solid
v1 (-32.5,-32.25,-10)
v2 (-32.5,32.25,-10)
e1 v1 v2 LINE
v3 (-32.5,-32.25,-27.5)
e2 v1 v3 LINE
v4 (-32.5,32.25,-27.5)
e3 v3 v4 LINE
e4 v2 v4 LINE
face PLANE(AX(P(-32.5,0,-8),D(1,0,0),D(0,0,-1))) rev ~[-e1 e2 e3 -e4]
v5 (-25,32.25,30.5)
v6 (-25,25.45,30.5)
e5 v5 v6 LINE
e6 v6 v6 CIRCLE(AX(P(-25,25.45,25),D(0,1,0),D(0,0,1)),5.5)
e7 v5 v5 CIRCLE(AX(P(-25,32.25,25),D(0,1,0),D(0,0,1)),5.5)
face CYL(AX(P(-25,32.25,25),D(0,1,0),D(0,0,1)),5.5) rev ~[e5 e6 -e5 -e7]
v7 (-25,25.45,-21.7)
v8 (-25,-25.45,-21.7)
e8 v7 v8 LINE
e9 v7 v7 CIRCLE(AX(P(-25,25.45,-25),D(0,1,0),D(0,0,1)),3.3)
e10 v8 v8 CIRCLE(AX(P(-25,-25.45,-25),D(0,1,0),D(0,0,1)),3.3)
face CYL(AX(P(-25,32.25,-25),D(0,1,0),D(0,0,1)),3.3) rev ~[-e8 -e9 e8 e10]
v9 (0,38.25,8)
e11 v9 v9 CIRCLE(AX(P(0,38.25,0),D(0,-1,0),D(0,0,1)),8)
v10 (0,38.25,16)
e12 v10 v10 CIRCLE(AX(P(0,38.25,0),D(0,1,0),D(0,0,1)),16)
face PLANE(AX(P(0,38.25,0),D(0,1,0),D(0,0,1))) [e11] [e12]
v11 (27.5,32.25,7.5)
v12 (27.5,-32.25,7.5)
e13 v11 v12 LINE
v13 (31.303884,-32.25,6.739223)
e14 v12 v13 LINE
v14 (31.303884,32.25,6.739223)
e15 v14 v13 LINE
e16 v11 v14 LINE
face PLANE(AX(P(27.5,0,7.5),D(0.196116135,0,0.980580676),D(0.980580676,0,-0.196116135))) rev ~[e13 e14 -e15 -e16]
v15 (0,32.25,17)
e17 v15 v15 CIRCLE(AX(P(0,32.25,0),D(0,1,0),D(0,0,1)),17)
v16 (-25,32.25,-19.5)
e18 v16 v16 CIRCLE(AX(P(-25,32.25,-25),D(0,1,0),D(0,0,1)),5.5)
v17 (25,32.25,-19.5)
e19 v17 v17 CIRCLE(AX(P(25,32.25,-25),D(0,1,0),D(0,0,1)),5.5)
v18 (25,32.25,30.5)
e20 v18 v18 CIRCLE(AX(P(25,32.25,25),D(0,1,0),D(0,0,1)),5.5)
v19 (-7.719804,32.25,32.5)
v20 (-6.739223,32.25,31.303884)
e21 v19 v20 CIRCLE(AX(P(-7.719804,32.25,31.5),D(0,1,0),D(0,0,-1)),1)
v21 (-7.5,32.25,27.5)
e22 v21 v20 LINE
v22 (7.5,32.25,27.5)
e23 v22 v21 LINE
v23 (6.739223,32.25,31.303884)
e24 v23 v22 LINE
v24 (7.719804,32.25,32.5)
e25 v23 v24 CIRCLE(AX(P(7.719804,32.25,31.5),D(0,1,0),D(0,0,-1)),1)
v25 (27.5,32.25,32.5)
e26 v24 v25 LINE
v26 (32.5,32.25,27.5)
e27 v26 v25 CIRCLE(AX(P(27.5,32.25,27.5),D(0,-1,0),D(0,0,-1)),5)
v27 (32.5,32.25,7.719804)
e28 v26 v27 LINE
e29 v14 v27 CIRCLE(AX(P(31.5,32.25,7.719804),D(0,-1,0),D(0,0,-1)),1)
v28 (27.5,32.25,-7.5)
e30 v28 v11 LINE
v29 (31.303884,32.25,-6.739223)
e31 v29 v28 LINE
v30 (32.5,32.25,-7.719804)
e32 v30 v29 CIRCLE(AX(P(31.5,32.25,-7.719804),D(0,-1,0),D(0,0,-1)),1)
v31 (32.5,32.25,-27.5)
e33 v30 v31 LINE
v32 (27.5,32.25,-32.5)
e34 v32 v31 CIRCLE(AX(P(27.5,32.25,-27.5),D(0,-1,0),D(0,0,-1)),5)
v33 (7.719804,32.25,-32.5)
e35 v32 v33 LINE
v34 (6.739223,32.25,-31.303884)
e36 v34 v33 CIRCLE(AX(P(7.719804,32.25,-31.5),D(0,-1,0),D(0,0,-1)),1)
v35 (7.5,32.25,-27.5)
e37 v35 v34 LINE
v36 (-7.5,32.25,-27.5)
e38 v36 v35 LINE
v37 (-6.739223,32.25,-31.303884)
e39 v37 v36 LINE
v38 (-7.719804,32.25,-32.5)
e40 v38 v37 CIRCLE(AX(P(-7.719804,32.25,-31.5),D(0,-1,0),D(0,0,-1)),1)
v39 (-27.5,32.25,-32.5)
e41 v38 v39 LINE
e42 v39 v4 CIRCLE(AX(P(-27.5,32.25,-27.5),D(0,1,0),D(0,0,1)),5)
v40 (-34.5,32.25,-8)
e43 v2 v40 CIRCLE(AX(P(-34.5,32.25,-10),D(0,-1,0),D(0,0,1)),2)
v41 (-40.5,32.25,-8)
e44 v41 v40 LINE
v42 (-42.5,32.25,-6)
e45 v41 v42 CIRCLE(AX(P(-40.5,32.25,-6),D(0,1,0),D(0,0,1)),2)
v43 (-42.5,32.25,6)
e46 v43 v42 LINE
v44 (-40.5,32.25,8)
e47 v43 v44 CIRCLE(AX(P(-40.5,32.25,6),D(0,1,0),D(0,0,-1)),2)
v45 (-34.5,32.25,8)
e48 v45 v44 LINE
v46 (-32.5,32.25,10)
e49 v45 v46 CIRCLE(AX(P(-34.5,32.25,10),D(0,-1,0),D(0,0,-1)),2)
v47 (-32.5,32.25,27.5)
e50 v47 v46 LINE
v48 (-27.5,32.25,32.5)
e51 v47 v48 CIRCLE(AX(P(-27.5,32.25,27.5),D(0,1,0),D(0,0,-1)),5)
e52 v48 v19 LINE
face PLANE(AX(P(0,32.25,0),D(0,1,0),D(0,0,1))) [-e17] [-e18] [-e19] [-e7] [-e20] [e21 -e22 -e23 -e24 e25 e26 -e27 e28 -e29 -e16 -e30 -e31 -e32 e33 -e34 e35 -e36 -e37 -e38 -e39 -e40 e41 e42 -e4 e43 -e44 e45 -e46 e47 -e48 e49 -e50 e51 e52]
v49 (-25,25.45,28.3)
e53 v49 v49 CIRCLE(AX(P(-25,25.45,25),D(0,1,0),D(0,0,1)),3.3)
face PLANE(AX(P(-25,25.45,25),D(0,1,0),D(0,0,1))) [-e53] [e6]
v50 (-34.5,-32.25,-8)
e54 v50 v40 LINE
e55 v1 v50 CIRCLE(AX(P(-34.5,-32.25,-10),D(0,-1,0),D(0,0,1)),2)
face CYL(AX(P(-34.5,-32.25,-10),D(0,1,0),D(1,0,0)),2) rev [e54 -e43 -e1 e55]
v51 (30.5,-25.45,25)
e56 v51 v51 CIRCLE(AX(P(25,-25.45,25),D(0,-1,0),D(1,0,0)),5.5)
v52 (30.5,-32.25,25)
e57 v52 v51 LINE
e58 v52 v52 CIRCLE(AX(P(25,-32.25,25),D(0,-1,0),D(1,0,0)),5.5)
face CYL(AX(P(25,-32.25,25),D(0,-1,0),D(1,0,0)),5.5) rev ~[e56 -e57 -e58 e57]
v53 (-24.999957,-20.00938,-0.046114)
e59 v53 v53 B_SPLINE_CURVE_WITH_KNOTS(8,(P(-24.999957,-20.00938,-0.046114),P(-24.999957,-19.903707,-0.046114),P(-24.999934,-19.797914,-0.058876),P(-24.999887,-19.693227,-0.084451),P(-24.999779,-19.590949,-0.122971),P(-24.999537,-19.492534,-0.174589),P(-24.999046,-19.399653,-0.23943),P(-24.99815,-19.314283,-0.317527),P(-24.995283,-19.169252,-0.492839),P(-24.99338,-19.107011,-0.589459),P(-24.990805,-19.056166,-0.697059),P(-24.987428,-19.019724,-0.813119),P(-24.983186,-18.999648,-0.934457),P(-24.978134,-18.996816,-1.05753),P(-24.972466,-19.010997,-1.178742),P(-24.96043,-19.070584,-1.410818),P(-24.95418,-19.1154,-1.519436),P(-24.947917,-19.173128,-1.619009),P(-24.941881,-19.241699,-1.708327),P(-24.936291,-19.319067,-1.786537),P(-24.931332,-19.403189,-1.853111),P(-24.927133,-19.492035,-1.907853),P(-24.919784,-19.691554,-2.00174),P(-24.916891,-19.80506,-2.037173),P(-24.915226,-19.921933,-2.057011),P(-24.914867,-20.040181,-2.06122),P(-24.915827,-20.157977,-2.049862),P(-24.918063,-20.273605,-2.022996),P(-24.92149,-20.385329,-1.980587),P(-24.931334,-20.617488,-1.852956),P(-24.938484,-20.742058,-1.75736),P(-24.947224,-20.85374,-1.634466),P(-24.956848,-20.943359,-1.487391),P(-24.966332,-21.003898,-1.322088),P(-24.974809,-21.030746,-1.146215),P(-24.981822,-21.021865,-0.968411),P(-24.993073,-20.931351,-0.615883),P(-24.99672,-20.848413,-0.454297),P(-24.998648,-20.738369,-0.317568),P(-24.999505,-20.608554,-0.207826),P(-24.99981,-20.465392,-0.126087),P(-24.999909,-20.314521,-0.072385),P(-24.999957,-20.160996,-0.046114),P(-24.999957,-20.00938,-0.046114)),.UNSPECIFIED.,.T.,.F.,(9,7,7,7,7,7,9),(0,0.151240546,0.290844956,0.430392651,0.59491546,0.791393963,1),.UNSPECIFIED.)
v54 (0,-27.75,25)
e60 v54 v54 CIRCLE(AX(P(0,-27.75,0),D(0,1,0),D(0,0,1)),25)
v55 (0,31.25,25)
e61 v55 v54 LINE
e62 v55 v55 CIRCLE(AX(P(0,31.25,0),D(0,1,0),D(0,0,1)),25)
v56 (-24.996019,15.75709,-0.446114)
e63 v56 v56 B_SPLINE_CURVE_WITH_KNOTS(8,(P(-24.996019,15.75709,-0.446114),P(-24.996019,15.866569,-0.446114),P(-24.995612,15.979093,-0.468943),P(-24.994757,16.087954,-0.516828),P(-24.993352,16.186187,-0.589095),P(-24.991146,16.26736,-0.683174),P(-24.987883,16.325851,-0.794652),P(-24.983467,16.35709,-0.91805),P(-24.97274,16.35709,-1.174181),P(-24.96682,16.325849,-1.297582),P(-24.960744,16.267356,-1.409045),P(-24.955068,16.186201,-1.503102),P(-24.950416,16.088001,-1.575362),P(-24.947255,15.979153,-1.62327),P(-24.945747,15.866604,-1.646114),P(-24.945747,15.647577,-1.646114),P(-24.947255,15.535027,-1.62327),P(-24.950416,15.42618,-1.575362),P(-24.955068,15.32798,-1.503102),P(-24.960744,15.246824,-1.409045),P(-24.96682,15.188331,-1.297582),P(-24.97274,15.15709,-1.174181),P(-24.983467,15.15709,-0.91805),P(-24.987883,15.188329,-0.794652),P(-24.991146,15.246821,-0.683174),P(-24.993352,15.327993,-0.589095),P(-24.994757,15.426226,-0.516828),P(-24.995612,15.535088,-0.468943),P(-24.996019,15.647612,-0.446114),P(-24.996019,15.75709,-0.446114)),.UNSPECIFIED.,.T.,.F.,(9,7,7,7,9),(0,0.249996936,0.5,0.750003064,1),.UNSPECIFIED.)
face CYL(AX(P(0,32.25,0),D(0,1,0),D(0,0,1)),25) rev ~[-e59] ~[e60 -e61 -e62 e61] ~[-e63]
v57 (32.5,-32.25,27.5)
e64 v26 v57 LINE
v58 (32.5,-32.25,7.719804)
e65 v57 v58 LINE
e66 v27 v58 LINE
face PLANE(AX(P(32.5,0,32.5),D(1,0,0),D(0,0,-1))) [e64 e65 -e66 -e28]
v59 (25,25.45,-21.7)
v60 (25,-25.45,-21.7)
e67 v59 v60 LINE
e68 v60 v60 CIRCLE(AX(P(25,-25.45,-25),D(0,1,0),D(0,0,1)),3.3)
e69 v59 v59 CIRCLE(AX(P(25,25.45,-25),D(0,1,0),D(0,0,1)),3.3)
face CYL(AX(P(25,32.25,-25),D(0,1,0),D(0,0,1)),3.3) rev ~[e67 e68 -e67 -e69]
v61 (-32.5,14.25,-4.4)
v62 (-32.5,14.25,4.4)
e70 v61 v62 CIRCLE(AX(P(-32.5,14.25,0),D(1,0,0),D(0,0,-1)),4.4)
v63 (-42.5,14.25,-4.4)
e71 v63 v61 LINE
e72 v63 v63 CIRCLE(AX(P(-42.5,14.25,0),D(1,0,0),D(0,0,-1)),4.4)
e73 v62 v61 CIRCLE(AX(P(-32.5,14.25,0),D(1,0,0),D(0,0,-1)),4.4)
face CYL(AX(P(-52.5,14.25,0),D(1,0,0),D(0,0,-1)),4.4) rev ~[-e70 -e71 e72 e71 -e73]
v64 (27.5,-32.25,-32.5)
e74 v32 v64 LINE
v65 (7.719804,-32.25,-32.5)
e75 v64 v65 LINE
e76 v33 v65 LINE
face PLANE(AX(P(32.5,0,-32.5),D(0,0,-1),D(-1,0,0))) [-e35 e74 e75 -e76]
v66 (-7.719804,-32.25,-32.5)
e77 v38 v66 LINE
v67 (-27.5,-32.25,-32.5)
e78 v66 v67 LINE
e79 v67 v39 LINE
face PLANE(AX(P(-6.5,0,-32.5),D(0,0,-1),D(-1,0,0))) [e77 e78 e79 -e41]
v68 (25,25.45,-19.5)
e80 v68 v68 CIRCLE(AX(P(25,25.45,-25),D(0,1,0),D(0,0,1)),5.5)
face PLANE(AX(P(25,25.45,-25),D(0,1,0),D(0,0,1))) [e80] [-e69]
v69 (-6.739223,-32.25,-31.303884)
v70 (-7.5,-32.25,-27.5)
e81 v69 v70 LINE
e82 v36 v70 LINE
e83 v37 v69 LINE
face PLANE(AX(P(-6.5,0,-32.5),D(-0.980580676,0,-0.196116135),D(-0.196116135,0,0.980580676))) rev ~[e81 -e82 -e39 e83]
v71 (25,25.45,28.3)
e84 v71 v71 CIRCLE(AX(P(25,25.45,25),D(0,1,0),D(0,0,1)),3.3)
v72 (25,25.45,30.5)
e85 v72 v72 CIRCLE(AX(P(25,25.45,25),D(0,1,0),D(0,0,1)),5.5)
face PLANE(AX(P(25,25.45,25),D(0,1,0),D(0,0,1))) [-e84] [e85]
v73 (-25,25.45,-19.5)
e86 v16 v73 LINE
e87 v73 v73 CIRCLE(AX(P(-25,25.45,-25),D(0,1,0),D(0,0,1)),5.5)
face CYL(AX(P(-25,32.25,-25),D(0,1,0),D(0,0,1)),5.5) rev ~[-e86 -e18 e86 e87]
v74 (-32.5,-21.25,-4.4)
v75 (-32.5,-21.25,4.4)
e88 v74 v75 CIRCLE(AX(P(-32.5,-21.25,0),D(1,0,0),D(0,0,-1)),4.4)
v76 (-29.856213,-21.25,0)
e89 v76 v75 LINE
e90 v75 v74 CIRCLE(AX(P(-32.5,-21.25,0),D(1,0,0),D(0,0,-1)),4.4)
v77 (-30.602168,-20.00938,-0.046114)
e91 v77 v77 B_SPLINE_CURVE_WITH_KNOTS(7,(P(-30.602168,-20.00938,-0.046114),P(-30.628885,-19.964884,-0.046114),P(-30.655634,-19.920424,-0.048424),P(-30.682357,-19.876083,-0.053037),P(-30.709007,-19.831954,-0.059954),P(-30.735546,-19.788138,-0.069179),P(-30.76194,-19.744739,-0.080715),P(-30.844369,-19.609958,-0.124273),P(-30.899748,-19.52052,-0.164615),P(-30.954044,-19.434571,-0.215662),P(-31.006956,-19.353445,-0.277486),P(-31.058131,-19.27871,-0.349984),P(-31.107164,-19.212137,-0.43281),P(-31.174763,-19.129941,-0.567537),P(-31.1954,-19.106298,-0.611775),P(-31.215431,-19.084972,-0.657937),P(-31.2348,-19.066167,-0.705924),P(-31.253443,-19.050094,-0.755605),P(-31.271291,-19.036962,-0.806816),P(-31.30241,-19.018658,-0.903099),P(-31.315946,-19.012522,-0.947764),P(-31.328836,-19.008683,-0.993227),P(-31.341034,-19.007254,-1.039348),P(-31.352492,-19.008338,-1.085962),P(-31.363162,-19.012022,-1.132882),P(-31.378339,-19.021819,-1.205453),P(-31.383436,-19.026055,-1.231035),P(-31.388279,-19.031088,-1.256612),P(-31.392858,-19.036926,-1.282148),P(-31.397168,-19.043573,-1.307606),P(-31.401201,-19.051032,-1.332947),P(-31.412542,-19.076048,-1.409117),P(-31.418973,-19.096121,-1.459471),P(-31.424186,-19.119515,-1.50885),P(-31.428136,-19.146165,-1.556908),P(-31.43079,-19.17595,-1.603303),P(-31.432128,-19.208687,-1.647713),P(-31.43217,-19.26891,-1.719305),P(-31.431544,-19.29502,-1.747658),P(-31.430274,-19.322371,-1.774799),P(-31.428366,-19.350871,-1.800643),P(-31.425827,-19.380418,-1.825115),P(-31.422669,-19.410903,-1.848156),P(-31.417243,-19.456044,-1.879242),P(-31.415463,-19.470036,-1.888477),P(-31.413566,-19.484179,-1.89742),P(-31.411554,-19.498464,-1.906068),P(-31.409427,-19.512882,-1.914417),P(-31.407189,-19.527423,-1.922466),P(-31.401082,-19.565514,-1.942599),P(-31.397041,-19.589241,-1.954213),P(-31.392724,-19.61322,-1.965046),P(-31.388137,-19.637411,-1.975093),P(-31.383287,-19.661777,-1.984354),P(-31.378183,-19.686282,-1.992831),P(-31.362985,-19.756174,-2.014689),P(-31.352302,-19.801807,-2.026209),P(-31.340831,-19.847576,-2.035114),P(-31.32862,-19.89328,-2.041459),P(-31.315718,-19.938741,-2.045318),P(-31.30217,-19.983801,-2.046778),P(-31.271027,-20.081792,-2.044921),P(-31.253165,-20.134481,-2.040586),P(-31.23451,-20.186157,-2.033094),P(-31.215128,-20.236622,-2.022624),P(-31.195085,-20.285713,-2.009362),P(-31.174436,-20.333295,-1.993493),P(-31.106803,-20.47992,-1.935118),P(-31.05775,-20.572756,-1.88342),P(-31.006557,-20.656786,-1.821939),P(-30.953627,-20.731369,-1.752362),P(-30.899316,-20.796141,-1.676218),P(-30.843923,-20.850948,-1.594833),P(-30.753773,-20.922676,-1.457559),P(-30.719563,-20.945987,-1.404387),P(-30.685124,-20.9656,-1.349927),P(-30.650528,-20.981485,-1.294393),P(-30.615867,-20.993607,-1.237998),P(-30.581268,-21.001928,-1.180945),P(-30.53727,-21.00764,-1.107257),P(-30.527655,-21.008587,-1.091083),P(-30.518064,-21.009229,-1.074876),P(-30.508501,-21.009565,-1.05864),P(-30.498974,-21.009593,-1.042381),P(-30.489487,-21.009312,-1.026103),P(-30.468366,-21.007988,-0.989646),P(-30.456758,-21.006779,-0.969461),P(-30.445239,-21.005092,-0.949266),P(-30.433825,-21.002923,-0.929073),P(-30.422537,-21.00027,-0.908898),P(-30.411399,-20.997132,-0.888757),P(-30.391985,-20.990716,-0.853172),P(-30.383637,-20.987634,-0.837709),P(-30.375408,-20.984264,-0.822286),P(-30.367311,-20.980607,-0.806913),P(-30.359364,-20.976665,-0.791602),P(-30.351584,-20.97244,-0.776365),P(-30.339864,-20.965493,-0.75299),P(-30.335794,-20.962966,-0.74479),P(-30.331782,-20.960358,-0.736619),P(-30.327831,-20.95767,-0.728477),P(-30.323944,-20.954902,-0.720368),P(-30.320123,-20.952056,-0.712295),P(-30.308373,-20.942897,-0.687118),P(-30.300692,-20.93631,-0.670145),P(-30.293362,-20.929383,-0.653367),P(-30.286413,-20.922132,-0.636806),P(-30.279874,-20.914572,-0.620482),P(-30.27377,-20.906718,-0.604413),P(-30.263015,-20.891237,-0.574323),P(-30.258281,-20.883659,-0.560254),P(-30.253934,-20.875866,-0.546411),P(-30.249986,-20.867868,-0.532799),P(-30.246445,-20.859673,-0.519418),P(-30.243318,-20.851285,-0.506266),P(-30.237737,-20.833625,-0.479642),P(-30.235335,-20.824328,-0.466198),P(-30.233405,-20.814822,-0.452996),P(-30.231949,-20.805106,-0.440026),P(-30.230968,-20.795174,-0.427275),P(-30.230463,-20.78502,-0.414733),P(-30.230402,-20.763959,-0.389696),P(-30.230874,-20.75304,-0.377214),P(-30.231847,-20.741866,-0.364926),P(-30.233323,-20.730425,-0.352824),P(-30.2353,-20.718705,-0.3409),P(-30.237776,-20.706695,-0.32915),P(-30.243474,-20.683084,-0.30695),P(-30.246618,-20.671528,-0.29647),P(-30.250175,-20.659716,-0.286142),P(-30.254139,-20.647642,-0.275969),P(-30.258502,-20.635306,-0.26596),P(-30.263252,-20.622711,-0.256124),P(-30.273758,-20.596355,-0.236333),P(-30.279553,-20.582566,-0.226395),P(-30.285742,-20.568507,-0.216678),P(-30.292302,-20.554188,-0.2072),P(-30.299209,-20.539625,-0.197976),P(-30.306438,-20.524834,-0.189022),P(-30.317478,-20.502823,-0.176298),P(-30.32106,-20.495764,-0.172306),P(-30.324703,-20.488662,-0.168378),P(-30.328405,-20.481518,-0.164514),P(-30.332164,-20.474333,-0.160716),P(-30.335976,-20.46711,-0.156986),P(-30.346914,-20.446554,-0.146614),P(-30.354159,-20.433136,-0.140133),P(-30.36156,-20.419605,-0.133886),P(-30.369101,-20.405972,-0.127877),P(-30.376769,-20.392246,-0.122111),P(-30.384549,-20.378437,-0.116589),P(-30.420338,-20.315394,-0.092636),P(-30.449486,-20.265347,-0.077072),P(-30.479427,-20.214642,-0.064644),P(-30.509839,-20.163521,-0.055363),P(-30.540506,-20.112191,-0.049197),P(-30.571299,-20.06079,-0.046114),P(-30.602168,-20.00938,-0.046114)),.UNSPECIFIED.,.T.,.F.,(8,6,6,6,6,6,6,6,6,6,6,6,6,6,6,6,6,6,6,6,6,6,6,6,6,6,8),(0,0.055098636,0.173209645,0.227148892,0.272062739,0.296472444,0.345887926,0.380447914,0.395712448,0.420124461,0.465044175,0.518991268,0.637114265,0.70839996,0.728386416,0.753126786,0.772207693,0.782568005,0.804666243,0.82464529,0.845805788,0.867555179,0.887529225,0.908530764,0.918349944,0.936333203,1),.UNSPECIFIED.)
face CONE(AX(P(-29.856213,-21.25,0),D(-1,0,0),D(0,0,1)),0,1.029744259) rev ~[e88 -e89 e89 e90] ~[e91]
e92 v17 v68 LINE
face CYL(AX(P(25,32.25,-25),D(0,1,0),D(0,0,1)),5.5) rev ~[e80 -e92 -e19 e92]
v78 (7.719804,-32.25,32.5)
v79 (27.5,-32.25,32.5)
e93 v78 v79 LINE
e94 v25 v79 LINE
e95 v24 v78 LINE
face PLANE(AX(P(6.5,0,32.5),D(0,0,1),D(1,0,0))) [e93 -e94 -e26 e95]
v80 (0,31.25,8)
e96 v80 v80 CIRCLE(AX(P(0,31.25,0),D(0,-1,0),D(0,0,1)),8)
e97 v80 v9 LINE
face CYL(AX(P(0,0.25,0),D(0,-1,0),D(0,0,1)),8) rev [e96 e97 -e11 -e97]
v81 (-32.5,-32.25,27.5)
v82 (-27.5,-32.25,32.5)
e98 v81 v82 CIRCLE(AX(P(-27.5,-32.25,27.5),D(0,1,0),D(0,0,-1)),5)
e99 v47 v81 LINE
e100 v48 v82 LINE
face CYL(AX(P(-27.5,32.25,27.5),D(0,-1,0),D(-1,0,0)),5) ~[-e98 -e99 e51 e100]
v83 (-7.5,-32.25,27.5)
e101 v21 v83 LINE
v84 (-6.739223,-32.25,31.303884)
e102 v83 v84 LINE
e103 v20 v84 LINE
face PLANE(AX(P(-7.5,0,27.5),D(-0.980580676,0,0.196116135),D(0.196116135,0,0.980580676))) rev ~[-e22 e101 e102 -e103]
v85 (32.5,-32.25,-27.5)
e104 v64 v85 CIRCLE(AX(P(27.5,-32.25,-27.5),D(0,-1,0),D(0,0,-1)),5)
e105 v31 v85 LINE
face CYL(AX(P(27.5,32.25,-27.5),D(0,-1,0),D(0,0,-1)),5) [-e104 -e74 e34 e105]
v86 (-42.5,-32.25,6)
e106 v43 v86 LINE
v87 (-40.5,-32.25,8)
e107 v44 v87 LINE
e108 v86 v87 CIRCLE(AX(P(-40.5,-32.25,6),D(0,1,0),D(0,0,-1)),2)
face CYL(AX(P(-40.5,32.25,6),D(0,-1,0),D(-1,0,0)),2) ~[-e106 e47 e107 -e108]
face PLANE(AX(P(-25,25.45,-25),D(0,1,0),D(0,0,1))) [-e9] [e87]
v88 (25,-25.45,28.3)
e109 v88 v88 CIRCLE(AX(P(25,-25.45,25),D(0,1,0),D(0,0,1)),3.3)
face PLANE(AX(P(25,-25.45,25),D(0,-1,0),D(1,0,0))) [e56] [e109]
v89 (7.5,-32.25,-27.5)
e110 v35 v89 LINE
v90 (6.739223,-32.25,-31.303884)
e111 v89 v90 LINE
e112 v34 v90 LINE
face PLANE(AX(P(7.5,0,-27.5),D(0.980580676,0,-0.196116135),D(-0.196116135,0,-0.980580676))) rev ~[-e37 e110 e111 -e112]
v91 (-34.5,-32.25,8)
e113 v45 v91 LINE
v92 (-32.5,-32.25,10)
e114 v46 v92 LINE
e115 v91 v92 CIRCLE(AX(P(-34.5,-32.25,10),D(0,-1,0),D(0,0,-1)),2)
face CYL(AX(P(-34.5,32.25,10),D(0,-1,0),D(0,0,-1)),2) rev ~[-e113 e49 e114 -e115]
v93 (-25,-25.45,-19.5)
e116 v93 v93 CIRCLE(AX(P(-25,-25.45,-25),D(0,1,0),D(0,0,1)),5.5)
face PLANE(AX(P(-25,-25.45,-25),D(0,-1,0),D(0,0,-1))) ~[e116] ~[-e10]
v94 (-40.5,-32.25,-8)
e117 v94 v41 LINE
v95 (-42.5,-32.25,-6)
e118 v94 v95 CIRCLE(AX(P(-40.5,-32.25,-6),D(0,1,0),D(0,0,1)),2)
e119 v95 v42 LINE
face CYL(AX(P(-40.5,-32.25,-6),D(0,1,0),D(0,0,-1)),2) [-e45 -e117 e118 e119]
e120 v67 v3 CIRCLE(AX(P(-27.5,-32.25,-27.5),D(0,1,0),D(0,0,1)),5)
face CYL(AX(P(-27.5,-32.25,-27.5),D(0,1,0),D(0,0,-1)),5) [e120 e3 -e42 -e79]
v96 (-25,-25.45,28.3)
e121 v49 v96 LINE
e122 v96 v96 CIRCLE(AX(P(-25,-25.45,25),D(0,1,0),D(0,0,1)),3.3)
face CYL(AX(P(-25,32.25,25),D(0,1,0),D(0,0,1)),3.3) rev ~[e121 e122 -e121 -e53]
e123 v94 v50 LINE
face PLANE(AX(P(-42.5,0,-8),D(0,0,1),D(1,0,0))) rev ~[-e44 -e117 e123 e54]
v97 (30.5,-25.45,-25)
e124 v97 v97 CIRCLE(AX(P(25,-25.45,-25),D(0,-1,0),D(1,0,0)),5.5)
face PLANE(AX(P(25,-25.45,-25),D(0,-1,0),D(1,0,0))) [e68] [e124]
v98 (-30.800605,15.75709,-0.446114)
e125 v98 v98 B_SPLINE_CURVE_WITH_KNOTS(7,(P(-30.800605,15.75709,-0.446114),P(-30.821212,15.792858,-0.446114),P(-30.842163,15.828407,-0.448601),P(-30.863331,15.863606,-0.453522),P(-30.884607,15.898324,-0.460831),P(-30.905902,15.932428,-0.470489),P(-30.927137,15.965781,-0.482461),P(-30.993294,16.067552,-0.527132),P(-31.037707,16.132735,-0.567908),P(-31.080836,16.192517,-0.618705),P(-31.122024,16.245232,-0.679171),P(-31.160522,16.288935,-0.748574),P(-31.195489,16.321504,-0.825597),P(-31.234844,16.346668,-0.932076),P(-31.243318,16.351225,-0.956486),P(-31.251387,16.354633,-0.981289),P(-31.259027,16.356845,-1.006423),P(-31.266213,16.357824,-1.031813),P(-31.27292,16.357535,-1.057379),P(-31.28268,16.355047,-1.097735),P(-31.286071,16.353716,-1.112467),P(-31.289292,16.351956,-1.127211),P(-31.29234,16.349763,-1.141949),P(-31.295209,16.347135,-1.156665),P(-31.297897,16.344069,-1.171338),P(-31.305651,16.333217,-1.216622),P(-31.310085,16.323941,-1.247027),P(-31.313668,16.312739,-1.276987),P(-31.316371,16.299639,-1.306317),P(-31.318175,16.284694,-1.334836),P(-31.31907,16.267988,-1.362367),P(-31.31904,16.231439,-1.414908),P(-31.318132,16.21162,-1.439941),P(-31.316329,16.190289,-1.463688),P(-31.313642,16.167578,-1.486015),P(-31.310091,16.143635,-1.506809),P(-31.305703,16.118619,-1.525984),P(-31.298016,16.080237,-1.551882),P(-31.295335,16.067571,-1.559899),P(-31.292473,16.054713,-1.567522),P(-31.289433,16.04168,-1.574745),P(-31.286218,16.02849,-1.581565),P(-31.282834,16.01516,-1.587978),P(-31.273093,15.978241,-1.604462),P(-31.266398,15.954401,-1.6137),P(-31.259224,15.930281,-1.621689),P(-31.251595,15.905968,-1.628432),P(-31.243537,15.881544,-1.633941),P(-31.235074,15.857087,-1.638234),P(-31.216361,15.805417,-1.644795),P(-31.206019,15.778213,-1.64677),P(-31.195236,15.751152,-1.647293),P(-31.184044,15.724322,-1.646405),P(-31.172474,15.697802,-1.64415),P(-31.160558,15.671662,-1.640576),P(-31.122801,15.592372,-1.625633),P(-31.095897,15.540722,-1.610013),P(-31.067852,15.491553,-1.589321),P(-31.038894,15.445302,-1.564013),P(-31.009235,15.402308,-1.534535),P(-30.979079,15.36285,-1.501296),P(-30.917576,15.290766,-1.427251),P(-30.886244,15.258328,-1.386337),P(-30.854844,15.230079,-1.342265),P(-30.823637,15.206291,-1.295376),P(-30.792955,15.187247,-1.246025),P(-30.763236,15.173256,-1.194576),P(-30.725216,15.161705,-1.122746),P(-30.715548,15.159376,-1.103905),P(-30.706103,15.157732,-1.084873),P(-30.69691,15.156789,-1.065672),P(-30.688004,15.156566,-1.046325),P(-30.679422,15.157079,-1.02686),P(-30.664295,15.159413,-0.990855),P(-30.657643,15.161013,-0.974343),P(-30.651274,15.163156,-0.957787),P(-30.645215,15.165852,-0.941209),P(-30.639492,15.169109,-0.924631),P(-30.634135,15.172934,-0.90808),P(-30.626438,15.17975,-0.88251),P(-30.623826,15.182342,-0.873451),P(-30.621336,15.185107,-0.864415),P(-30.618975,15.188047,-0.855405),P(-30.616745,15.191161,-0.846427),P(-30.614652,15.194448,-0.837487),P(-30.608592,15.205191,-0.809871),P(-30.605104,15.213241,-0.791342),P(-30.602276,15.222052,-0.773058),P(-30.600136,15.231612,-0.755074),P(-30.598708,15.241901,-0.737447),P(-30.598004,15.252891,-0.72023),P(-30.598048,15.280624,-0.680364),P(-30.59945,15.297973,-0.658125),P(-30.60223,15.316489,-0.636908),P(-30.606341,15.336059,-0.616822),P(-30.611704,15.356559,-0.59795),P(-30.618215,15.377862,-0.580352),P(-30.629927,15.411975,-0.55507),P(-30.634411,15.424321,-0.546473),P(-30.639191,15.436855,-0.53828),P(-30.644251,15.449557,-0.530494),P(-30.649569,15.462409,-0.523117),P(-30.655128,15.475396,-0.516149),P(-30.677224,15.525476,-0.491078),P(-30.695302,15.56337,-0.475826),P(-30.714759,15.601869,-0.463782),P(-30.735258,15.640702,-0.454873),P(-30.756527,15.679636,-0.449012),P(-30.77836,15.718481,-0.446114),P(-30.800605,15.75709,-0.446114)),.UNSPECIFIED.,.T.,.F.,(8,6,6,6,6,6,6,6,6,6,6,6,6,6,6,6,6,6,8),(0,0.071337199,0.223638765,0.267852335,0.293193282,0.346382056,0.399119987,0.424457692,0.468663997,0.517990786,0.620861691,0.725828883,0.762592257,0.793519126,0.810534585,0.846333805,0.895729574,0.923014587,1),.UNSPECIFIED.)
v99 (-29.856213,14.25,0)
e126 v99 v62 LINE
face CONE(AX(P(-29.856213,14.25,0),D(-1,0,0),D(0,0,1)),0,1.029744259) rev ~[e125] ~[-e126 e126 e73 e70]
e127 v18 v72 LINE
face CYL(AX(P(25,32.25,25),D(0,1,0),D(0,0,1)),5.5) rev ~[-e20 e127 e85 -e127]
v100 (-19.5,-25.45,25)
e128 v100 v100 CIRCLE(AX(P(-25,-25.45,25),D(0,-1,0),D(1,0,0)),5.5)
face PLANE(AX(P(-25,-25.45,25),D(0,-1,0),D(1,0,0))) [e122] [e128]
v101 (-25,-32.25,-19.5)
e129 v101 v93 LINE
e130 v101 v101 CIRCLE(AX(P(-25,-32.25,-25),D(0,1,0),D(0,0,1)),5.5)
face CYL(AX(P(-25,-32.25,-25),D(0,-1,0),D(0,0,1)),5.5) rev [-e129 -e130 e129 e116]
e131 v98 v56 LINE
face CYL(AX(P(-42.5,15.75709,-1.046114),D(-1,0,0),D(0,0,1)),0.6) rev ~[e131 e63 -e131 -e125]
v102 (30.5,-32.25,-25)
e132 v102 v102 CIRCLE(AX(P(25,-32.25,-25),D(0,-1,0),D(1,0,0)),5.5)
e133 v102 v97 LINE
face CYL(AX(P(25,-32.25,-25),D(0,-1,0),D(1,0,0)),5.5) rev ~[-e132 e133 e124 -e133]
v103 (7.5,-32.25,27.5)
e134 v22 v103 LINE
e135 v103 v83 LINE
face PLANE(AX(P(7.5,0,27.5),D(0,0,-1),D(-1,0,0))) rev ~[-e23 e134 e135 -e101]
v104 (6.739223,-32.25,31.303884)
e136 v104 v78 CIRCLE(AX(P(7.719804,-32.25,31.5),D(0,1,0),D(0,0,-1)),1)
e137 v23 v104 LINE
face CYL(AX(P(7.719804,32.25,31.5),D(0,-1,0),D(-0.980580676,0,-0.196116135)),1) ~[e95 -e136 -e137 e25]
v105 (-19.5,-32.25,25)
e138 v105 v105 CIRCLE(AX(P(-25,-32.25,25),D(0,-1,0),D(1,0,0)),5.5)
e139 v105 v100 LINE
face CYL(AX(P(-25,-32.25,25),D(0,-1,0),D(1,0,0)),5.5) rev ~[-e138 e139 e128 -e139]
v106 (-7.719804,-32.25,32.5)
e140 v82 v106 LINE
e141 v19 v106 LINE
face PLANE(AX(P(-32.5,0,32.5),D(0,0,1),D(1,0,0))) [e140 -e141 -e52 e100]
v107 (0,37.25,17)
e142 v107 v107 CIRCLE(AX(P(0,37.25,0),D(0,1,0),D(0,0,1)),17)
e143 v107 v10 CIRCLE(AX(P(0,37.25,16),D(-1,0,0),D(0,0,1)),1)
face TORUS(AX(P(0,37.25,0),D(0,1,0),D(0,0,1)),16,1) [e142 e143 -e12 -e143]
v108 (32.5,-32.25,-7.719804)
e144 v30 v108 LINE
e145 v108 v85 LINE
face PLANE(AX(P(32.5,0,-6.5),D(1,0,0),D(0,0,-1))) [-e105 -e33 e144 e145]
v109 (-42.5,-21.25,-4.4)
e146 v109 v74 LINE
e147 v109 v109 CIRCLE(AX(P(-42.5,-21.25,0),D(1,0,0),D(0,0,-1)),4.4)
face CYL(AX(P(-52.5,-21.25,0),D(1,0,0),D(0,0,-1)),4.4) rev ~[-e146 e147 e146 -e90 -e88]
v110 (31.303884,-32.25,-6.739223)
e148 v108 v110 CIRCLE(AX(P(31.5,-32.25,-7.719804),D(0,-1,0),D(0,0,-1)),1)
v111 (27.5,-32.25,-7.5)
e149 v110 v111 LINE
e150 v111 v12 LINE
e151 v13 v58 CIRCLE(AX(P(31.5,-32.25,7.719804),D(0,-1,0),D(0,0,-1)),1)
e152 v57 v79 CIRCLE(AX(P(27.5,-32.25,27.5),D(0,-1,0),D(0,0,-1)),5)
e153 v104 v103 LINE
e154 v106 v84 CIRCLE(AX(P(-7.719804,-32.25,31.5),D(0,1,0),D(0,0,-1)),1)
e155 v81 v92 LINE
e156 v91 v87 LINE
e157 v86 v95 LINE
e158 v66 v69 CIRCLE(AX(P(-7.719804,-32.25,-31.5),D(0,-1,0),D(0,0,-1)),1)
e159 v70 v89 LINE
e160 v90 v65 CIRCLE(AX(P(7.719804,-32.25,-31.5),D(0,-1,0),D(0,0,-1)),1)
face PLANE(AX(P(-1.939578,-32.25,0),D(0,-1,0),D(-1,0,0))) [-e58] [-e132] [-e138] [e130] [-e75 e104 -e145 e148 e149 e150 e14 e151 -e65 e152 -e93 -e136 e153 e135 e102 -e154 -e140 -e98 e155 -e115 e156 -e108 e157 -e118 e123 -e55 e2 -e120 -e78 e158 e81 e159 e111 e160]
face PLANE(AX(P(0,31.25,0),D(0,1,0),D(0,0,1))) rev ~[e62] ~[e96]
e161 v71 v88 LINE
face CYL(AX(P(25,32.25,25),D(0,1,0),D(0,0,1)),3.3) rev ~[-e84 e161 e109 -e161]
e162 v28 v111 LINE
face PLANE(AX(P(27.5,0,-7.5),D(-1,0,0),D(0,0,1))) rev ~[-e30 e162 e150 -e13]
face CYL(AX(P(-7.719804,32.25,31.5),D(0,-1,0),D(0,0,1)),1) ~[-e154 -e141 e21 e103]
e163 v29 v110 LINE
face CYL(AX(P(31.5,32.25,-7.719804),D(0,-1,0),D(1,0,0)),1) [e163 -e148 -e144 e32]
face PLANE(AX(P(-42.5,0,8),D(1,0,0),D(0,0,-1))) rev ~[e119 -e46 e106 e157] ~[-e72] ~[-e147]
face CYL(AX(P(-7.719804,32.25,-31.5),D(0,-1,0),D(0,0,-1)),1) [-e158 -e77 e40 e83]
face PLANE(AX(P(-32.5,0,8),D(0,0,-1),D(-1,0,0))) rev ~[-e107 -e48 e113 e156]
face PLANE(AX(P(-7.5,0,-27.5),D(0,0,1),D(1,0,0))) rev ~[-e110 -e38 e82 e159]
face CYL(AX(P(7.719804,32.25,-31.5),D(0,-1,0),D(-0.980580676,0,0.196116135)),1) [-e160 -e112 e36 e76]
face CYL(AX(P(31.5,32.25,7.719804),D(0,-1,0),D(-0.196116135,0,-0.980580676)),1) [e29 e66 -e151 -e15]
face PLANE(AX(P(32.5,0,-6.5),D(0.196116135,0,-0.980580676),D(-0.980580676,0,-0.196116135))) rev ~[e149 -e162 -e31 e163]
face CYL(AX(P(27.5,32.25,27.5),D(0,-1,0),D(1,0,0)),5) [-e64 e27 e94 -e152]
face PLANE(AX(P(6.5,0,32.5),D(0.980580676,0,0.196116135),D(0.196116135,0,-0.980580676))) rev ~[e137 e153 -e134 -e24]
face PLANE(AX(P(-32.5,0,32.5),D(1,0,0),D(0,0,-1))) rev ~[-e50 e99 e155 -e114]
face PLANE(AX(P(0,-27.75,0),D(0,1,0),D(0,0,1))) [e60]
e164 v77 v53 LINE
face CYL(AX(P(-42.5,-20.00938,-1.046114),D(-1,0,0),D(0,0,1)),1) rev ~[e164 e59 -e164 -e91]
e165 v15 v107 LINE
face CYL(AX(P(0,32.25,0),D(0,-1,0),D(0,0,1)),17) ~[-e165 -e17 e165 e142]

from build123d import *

# Parameters (mm, degrees)
BOSS_EXTRUDE1_DEPTH         = 32.25
SKETCH2_R                   = 5.5
CUT_EXTRUDE1_DEPTH          = 6.8
LPATTERN1_COUNT             = 2
LPATTERN1_PITCH             = 50
LPATTERN1_COUNT_DIR2        = 2
LPATTERN1_PITCH_DIR2        = 50
MIRROR1_COPY_1_SKETCH_R     = 5.5
MIRROR1_COPY_1_DEPTH        = 6.8
MIRROR1_COPY_2_SKETCH_R     = 5.5
MIRROR1_COPY_2_DEPTH        = 6.8
MIRROR1_COPY_3_SKETCH_R     = 5.5
MIRROR1_COPY_3_DEPTH        = 6.8
SKETCH3_R                   = 3.3
CUT_EXTRUDE2_DEPTH          = 63.8
LPATTERN2_COUNT             = 2
LPATTERN2_PITCH             = 50
LPATTERN2_COUNT_DIR2        = 2
LPATTERN2_PITCH_DIR2        = 50
M10X1_25_TAPPED_HOLE1_D     = 8.8
M10X1_25_TAPPED_HOLE1_DEPTH = 10
M10X1_25_TAPPED_HOLE1_TIP   = 2.643786724
SKETCH6_R                   = 25
CUT_EXTRUDE4_DEPTH          = 60
SKETCH7_R                   = 0.6
SKETCH7_R_2                 = 1
CUT_EXTRUDE5_DEPTH          = 26
FILLET1_R                   = 5
FILLET2_R                   = 2
FILLET3_R                   = 1
SKETCH8_R                   = 17
BOSS_EXTRUDE2_DEPTH         = 6
SKETCH9_R                   = 25
BOSS_EXTRUDE3_DEPTH         = 1
FILLET5_R                   = 1
CUT_EXTRUDE6_DEPTH          = 87
CUT_EXTRUDE6_DEPTH_BACK     = 38
SKETCH10_R                  = 8


with BuildPart() as part:
    # Sketch1 → Boss-Extrude1 (new, symmetric)
    with BuildSketch(Plane(origin=(0, 0, 0), x_dir=(1, 0, 0), z_dir=(0, 1, 0))):
        Polygon((-32.5, 32.5), (-7.5, 32.5), (-6.5, 32.5), (-7.5, 27.5), (7.5, 27.5), (6.5, 32.5), (7.5, 32.5), (32.5, 32.5), (32.5, 7.5), (32.5, 6.5), (27.5, 7.5), (27.5, -7.5), (32.5, -6.5), (32.5, -7.5), (32.5, -32.5), (7.5, -32.5), (6.5, -32.5), (7.5, -27.5), (-7.5, -27.5), (-6.5, -32.5), (-7.5, -32.5), (-32.5, -32.5), (-32.5, -8), (-42.5, -8), (-42.5, 8), (-32.5, 8), align=None)
    extrude(amount=BOSS_EXTRUDE1_DEPTH, both=True)

    # Sketch2 → Cut-Extrude1 (cut)
    with BuildSketch(Plane(origin=(0, 32.25, 0), x_dir=(1, 0, 0), z_dir=(0, 1, 0))):
        with Locations(Location((-25, 25, 0), (0, 0, 270))):
            Circle(SKETCH2_R)
    cut_extrude1 = extrude(amount=-CUT_EXTRUDE1_DEPTH, mode=Mode.SUBTRACT)

    # LPattern1: Cut-Extrude1 2 × 2
    with Locations(*[(i * LPATTERN1_PITCH, 0, j * LPATTERN1_PITCH_DIR2) for i in range(LPATTERN1_COUNT) for j in range(LPATTERN1_COUNT_DIR2) if (i, j) != (0, 0)]):
        add(cut_extrude1, mode=Mode.SUBTRACT)

    # Mirror1: Cut-Extrude1 across plane
    add(cut_extrude1.mirror(Plane.ZX), mode=Mode.SUBTRACT)

    # Mirror1 copy 1 sketch → Mirror1 copy 1 (cut)
    with BuildSketch(Plane(origin=(0, -32.25, 50), x_dir=(1, 0, 0), z_dir=(0, -1, 0))):
        with Locations((-25, -25)):
            Circle(MIRROR1_COPY_1_SKETCH_R)
    extrude(amount=-MIRROR1_COPY_1_DEPTH, mode=Mode.SUBTRACT)

    # Mirror1 copy 2 sketch → Mirror1 copy 2 (cut)
    with BuildSketch(Plane(origin=(50, -32.25, 0), x_dir=(1, 0, 0), z_dir=(0, -1, 0))):
        with Locations((-25, -25)):
            Circle(MIRROR1_COPY_2_SKETCH_R)
    extrude(amount=-MIRROR1_COPY_2_DEPTH, mode=Mode.SUBTRACT)

    # Mirror1 copy 3 sketch → Mirror1 copy 3 (cut)
    with BuildSketch(Plane(origin=(50, -32.25, 50), x_dir=(1, 0, 0), z_dir=(0, -1, 0))):
        with Locations((-25, -25)):
            Circle(MIRROR1_COPY_3_SKETCH_R)
    extrude(amount=-MIRROR1_COPY_3_DEPTH, mode=Mode.SUBTRACT)

    # Sketch3 → Cut-Extrude2 (cut)
    with BuildSketch(Plane(origin=(0, 32.25, 0), x_dir=(1, 0, 0), z_dir=(0, 1, 0))):
        with Locations(Location((-25, 25, 0), (0, 0, 270))):
            Circle(SKETCH3_R)
    cut_extrude2 = extrude(amount=-CUT_EXTRUDE2_DEPTH, mode=Mode.SUBTRACT)

    # LPattern2: Cut-Extrude2 2 × 2
    with Locations(*[(i * LPATTERN2_PITCH, 0, j * LPATTERN2_PITCH_DIR2) for i in range(LPATTERN2_COUNT) for j in range(LPATTERN2_COUNT_DIR2) if (i, j) != (0, 0)]):
        add(cut_extrude2, mode=Mode.SUBTRACT)

    # M10x1.25 Tapped Hole1
    with Locations(Plane.ZY.offset(42.5)):
        with Locations((0, -21.25), (0, 14.25)):
            Hole(M10X1_25_TAPPED_HOLE1_D / 2, depth=M10X1_25_TAPPED_HOLE1_DEPTH)
            with Locations((0, 0, -(M10X1_25_TAPPED_HOLE1_DEPTH + M10X1_25_TAPPED_HOLE1_TIP / 2))):  # 118° drill point
                Cone(0, M10X1_25_TAPPED_HOLE1_D / 2, M10X1_25_TAPPED_HOLE1_TIP, mode=Mode.SUBTRACT)

    # Sketch6 → Cut-Extrude4 (cut)
    with BuildSketch(Plane(origin=(0, 32.25, 0), x_dir=(1, 0, 0), z_dir=(0, 1, 0))):
        with Locations(Location((0, 0, 0), (0, 0, 270))):
            Circle(SKETCH6_R)
    extrude(amount=-CUT_EXTRUDE4_DEPTH, mode=Mode.SUBTRACT)

    # Sketch7 → Cut-Extrude5 (cut)
    with BuildSketch(Plane.ZY.offset(42.5)):
        with Locations((-1.046113874, 15.75709023)):
            Circle(SKETCH7_R)
        with Locations((-1.046113874, -20.009379673)):
            Circle(SKETCH7_R_2)
    extrude(amount=-CUT_EXTRUDE5_DEPTH, mode=Mode.SUBTRACT)

    # Fillet1
    fillet1_edges = [part.edges().sort_by_distance(p)[0] for p in [
        (32.5, 0, 32.5),
        (-32.5, 0, 32.5),
        (-32.5, 0, -32.5),
        (32.5, 0, -32.5),
    ]]
    fillet(fillet1_edges, radius=FILLET1_R)

    # Fillet2
    fillet2_edges = [part.edges().sort_by_distance(p)[0] for p in [
        (-32.5, 0, 8),
        (-42.5, 0, 8),
        (-42.5, 0, -8),
        (-32.5, 0, -8),
    ]]
    fillet(fillet2_edges, radius=FILLET2_R)

    # Fillet3
    fillet3_edges = [part.edges().sort_by_distance(p)[0] for p in [
        (6.5, 0, 32.5),
        (-6.5, 0, 32.5),
        (-6.5, 0, -32.5),
        (6.5, 0, -32.5),
        (32.5, 0, -6.5),
        (32.5, 0, 6.5),
    ]]
    fillet(fillet3_edges, radius=FILLET3_R)



with BuildPart() as body_2:
    # Sketch8 → Boss-Extrude2 (new body)
    with BuildSketch(Plane(origin=(0, 32.25, 0), x_dir=(1, 0, 0), z_dir=(0, 1, 0))):
        with Locations(Location((0, 0, 0), (0, 0, 270))):
            Circle(SKETCH8_R)
    extrude(amount=BOSS_EXTRUDE2_DEPTH)


with BuildPart() as part_1:
    add(part.part)

    add(body_2.part)  # Boss-Extrude3 merges body 2
    # Sketch9 → Boss-Extrude3 (add)
    with BuildSketch(Plane(origin=(0, 32.25, 0), x_dir=(1, 0, 0), z_dir=(0, 1, 0))):
        with Locations(Location((0, 0, 0), (0, 0, 270))):
            Circle(SKETCH9_R)
    extrude(amount=-BOSS_EXTRUDE3_DEPTH)

    # Fillet5
    fillet5_edges = [part_1.edges().sort_by_distance(p)[0] for p in [
        (0, 38.25, -17),
    ]]
    fillet(fillet5_edges, radius=FILLET5_R)

    # Sketch10 → Cut-Extrude6 (cut, two sides: drawn at the far end of the back side and taken through both)
    with BuildSketch(Plane(origin=(0, 38.25, 0), x_dir=(1, 0, 0), z_dir=(0, 1, 0)).offset(-CUT_EXTRUDE6_DEPTH_BACK)):
        with Locations(Location((0, 0, 0), (0, 0, 270))):
            Circle(SKETCH10_R)
    extrude(amount=CUT_EXTRUDE6_DEPTH + CUT_EXTRUDE6_DEPTH_BACK, mode=Mode.SUBTRACT)


solid = part_1.part
